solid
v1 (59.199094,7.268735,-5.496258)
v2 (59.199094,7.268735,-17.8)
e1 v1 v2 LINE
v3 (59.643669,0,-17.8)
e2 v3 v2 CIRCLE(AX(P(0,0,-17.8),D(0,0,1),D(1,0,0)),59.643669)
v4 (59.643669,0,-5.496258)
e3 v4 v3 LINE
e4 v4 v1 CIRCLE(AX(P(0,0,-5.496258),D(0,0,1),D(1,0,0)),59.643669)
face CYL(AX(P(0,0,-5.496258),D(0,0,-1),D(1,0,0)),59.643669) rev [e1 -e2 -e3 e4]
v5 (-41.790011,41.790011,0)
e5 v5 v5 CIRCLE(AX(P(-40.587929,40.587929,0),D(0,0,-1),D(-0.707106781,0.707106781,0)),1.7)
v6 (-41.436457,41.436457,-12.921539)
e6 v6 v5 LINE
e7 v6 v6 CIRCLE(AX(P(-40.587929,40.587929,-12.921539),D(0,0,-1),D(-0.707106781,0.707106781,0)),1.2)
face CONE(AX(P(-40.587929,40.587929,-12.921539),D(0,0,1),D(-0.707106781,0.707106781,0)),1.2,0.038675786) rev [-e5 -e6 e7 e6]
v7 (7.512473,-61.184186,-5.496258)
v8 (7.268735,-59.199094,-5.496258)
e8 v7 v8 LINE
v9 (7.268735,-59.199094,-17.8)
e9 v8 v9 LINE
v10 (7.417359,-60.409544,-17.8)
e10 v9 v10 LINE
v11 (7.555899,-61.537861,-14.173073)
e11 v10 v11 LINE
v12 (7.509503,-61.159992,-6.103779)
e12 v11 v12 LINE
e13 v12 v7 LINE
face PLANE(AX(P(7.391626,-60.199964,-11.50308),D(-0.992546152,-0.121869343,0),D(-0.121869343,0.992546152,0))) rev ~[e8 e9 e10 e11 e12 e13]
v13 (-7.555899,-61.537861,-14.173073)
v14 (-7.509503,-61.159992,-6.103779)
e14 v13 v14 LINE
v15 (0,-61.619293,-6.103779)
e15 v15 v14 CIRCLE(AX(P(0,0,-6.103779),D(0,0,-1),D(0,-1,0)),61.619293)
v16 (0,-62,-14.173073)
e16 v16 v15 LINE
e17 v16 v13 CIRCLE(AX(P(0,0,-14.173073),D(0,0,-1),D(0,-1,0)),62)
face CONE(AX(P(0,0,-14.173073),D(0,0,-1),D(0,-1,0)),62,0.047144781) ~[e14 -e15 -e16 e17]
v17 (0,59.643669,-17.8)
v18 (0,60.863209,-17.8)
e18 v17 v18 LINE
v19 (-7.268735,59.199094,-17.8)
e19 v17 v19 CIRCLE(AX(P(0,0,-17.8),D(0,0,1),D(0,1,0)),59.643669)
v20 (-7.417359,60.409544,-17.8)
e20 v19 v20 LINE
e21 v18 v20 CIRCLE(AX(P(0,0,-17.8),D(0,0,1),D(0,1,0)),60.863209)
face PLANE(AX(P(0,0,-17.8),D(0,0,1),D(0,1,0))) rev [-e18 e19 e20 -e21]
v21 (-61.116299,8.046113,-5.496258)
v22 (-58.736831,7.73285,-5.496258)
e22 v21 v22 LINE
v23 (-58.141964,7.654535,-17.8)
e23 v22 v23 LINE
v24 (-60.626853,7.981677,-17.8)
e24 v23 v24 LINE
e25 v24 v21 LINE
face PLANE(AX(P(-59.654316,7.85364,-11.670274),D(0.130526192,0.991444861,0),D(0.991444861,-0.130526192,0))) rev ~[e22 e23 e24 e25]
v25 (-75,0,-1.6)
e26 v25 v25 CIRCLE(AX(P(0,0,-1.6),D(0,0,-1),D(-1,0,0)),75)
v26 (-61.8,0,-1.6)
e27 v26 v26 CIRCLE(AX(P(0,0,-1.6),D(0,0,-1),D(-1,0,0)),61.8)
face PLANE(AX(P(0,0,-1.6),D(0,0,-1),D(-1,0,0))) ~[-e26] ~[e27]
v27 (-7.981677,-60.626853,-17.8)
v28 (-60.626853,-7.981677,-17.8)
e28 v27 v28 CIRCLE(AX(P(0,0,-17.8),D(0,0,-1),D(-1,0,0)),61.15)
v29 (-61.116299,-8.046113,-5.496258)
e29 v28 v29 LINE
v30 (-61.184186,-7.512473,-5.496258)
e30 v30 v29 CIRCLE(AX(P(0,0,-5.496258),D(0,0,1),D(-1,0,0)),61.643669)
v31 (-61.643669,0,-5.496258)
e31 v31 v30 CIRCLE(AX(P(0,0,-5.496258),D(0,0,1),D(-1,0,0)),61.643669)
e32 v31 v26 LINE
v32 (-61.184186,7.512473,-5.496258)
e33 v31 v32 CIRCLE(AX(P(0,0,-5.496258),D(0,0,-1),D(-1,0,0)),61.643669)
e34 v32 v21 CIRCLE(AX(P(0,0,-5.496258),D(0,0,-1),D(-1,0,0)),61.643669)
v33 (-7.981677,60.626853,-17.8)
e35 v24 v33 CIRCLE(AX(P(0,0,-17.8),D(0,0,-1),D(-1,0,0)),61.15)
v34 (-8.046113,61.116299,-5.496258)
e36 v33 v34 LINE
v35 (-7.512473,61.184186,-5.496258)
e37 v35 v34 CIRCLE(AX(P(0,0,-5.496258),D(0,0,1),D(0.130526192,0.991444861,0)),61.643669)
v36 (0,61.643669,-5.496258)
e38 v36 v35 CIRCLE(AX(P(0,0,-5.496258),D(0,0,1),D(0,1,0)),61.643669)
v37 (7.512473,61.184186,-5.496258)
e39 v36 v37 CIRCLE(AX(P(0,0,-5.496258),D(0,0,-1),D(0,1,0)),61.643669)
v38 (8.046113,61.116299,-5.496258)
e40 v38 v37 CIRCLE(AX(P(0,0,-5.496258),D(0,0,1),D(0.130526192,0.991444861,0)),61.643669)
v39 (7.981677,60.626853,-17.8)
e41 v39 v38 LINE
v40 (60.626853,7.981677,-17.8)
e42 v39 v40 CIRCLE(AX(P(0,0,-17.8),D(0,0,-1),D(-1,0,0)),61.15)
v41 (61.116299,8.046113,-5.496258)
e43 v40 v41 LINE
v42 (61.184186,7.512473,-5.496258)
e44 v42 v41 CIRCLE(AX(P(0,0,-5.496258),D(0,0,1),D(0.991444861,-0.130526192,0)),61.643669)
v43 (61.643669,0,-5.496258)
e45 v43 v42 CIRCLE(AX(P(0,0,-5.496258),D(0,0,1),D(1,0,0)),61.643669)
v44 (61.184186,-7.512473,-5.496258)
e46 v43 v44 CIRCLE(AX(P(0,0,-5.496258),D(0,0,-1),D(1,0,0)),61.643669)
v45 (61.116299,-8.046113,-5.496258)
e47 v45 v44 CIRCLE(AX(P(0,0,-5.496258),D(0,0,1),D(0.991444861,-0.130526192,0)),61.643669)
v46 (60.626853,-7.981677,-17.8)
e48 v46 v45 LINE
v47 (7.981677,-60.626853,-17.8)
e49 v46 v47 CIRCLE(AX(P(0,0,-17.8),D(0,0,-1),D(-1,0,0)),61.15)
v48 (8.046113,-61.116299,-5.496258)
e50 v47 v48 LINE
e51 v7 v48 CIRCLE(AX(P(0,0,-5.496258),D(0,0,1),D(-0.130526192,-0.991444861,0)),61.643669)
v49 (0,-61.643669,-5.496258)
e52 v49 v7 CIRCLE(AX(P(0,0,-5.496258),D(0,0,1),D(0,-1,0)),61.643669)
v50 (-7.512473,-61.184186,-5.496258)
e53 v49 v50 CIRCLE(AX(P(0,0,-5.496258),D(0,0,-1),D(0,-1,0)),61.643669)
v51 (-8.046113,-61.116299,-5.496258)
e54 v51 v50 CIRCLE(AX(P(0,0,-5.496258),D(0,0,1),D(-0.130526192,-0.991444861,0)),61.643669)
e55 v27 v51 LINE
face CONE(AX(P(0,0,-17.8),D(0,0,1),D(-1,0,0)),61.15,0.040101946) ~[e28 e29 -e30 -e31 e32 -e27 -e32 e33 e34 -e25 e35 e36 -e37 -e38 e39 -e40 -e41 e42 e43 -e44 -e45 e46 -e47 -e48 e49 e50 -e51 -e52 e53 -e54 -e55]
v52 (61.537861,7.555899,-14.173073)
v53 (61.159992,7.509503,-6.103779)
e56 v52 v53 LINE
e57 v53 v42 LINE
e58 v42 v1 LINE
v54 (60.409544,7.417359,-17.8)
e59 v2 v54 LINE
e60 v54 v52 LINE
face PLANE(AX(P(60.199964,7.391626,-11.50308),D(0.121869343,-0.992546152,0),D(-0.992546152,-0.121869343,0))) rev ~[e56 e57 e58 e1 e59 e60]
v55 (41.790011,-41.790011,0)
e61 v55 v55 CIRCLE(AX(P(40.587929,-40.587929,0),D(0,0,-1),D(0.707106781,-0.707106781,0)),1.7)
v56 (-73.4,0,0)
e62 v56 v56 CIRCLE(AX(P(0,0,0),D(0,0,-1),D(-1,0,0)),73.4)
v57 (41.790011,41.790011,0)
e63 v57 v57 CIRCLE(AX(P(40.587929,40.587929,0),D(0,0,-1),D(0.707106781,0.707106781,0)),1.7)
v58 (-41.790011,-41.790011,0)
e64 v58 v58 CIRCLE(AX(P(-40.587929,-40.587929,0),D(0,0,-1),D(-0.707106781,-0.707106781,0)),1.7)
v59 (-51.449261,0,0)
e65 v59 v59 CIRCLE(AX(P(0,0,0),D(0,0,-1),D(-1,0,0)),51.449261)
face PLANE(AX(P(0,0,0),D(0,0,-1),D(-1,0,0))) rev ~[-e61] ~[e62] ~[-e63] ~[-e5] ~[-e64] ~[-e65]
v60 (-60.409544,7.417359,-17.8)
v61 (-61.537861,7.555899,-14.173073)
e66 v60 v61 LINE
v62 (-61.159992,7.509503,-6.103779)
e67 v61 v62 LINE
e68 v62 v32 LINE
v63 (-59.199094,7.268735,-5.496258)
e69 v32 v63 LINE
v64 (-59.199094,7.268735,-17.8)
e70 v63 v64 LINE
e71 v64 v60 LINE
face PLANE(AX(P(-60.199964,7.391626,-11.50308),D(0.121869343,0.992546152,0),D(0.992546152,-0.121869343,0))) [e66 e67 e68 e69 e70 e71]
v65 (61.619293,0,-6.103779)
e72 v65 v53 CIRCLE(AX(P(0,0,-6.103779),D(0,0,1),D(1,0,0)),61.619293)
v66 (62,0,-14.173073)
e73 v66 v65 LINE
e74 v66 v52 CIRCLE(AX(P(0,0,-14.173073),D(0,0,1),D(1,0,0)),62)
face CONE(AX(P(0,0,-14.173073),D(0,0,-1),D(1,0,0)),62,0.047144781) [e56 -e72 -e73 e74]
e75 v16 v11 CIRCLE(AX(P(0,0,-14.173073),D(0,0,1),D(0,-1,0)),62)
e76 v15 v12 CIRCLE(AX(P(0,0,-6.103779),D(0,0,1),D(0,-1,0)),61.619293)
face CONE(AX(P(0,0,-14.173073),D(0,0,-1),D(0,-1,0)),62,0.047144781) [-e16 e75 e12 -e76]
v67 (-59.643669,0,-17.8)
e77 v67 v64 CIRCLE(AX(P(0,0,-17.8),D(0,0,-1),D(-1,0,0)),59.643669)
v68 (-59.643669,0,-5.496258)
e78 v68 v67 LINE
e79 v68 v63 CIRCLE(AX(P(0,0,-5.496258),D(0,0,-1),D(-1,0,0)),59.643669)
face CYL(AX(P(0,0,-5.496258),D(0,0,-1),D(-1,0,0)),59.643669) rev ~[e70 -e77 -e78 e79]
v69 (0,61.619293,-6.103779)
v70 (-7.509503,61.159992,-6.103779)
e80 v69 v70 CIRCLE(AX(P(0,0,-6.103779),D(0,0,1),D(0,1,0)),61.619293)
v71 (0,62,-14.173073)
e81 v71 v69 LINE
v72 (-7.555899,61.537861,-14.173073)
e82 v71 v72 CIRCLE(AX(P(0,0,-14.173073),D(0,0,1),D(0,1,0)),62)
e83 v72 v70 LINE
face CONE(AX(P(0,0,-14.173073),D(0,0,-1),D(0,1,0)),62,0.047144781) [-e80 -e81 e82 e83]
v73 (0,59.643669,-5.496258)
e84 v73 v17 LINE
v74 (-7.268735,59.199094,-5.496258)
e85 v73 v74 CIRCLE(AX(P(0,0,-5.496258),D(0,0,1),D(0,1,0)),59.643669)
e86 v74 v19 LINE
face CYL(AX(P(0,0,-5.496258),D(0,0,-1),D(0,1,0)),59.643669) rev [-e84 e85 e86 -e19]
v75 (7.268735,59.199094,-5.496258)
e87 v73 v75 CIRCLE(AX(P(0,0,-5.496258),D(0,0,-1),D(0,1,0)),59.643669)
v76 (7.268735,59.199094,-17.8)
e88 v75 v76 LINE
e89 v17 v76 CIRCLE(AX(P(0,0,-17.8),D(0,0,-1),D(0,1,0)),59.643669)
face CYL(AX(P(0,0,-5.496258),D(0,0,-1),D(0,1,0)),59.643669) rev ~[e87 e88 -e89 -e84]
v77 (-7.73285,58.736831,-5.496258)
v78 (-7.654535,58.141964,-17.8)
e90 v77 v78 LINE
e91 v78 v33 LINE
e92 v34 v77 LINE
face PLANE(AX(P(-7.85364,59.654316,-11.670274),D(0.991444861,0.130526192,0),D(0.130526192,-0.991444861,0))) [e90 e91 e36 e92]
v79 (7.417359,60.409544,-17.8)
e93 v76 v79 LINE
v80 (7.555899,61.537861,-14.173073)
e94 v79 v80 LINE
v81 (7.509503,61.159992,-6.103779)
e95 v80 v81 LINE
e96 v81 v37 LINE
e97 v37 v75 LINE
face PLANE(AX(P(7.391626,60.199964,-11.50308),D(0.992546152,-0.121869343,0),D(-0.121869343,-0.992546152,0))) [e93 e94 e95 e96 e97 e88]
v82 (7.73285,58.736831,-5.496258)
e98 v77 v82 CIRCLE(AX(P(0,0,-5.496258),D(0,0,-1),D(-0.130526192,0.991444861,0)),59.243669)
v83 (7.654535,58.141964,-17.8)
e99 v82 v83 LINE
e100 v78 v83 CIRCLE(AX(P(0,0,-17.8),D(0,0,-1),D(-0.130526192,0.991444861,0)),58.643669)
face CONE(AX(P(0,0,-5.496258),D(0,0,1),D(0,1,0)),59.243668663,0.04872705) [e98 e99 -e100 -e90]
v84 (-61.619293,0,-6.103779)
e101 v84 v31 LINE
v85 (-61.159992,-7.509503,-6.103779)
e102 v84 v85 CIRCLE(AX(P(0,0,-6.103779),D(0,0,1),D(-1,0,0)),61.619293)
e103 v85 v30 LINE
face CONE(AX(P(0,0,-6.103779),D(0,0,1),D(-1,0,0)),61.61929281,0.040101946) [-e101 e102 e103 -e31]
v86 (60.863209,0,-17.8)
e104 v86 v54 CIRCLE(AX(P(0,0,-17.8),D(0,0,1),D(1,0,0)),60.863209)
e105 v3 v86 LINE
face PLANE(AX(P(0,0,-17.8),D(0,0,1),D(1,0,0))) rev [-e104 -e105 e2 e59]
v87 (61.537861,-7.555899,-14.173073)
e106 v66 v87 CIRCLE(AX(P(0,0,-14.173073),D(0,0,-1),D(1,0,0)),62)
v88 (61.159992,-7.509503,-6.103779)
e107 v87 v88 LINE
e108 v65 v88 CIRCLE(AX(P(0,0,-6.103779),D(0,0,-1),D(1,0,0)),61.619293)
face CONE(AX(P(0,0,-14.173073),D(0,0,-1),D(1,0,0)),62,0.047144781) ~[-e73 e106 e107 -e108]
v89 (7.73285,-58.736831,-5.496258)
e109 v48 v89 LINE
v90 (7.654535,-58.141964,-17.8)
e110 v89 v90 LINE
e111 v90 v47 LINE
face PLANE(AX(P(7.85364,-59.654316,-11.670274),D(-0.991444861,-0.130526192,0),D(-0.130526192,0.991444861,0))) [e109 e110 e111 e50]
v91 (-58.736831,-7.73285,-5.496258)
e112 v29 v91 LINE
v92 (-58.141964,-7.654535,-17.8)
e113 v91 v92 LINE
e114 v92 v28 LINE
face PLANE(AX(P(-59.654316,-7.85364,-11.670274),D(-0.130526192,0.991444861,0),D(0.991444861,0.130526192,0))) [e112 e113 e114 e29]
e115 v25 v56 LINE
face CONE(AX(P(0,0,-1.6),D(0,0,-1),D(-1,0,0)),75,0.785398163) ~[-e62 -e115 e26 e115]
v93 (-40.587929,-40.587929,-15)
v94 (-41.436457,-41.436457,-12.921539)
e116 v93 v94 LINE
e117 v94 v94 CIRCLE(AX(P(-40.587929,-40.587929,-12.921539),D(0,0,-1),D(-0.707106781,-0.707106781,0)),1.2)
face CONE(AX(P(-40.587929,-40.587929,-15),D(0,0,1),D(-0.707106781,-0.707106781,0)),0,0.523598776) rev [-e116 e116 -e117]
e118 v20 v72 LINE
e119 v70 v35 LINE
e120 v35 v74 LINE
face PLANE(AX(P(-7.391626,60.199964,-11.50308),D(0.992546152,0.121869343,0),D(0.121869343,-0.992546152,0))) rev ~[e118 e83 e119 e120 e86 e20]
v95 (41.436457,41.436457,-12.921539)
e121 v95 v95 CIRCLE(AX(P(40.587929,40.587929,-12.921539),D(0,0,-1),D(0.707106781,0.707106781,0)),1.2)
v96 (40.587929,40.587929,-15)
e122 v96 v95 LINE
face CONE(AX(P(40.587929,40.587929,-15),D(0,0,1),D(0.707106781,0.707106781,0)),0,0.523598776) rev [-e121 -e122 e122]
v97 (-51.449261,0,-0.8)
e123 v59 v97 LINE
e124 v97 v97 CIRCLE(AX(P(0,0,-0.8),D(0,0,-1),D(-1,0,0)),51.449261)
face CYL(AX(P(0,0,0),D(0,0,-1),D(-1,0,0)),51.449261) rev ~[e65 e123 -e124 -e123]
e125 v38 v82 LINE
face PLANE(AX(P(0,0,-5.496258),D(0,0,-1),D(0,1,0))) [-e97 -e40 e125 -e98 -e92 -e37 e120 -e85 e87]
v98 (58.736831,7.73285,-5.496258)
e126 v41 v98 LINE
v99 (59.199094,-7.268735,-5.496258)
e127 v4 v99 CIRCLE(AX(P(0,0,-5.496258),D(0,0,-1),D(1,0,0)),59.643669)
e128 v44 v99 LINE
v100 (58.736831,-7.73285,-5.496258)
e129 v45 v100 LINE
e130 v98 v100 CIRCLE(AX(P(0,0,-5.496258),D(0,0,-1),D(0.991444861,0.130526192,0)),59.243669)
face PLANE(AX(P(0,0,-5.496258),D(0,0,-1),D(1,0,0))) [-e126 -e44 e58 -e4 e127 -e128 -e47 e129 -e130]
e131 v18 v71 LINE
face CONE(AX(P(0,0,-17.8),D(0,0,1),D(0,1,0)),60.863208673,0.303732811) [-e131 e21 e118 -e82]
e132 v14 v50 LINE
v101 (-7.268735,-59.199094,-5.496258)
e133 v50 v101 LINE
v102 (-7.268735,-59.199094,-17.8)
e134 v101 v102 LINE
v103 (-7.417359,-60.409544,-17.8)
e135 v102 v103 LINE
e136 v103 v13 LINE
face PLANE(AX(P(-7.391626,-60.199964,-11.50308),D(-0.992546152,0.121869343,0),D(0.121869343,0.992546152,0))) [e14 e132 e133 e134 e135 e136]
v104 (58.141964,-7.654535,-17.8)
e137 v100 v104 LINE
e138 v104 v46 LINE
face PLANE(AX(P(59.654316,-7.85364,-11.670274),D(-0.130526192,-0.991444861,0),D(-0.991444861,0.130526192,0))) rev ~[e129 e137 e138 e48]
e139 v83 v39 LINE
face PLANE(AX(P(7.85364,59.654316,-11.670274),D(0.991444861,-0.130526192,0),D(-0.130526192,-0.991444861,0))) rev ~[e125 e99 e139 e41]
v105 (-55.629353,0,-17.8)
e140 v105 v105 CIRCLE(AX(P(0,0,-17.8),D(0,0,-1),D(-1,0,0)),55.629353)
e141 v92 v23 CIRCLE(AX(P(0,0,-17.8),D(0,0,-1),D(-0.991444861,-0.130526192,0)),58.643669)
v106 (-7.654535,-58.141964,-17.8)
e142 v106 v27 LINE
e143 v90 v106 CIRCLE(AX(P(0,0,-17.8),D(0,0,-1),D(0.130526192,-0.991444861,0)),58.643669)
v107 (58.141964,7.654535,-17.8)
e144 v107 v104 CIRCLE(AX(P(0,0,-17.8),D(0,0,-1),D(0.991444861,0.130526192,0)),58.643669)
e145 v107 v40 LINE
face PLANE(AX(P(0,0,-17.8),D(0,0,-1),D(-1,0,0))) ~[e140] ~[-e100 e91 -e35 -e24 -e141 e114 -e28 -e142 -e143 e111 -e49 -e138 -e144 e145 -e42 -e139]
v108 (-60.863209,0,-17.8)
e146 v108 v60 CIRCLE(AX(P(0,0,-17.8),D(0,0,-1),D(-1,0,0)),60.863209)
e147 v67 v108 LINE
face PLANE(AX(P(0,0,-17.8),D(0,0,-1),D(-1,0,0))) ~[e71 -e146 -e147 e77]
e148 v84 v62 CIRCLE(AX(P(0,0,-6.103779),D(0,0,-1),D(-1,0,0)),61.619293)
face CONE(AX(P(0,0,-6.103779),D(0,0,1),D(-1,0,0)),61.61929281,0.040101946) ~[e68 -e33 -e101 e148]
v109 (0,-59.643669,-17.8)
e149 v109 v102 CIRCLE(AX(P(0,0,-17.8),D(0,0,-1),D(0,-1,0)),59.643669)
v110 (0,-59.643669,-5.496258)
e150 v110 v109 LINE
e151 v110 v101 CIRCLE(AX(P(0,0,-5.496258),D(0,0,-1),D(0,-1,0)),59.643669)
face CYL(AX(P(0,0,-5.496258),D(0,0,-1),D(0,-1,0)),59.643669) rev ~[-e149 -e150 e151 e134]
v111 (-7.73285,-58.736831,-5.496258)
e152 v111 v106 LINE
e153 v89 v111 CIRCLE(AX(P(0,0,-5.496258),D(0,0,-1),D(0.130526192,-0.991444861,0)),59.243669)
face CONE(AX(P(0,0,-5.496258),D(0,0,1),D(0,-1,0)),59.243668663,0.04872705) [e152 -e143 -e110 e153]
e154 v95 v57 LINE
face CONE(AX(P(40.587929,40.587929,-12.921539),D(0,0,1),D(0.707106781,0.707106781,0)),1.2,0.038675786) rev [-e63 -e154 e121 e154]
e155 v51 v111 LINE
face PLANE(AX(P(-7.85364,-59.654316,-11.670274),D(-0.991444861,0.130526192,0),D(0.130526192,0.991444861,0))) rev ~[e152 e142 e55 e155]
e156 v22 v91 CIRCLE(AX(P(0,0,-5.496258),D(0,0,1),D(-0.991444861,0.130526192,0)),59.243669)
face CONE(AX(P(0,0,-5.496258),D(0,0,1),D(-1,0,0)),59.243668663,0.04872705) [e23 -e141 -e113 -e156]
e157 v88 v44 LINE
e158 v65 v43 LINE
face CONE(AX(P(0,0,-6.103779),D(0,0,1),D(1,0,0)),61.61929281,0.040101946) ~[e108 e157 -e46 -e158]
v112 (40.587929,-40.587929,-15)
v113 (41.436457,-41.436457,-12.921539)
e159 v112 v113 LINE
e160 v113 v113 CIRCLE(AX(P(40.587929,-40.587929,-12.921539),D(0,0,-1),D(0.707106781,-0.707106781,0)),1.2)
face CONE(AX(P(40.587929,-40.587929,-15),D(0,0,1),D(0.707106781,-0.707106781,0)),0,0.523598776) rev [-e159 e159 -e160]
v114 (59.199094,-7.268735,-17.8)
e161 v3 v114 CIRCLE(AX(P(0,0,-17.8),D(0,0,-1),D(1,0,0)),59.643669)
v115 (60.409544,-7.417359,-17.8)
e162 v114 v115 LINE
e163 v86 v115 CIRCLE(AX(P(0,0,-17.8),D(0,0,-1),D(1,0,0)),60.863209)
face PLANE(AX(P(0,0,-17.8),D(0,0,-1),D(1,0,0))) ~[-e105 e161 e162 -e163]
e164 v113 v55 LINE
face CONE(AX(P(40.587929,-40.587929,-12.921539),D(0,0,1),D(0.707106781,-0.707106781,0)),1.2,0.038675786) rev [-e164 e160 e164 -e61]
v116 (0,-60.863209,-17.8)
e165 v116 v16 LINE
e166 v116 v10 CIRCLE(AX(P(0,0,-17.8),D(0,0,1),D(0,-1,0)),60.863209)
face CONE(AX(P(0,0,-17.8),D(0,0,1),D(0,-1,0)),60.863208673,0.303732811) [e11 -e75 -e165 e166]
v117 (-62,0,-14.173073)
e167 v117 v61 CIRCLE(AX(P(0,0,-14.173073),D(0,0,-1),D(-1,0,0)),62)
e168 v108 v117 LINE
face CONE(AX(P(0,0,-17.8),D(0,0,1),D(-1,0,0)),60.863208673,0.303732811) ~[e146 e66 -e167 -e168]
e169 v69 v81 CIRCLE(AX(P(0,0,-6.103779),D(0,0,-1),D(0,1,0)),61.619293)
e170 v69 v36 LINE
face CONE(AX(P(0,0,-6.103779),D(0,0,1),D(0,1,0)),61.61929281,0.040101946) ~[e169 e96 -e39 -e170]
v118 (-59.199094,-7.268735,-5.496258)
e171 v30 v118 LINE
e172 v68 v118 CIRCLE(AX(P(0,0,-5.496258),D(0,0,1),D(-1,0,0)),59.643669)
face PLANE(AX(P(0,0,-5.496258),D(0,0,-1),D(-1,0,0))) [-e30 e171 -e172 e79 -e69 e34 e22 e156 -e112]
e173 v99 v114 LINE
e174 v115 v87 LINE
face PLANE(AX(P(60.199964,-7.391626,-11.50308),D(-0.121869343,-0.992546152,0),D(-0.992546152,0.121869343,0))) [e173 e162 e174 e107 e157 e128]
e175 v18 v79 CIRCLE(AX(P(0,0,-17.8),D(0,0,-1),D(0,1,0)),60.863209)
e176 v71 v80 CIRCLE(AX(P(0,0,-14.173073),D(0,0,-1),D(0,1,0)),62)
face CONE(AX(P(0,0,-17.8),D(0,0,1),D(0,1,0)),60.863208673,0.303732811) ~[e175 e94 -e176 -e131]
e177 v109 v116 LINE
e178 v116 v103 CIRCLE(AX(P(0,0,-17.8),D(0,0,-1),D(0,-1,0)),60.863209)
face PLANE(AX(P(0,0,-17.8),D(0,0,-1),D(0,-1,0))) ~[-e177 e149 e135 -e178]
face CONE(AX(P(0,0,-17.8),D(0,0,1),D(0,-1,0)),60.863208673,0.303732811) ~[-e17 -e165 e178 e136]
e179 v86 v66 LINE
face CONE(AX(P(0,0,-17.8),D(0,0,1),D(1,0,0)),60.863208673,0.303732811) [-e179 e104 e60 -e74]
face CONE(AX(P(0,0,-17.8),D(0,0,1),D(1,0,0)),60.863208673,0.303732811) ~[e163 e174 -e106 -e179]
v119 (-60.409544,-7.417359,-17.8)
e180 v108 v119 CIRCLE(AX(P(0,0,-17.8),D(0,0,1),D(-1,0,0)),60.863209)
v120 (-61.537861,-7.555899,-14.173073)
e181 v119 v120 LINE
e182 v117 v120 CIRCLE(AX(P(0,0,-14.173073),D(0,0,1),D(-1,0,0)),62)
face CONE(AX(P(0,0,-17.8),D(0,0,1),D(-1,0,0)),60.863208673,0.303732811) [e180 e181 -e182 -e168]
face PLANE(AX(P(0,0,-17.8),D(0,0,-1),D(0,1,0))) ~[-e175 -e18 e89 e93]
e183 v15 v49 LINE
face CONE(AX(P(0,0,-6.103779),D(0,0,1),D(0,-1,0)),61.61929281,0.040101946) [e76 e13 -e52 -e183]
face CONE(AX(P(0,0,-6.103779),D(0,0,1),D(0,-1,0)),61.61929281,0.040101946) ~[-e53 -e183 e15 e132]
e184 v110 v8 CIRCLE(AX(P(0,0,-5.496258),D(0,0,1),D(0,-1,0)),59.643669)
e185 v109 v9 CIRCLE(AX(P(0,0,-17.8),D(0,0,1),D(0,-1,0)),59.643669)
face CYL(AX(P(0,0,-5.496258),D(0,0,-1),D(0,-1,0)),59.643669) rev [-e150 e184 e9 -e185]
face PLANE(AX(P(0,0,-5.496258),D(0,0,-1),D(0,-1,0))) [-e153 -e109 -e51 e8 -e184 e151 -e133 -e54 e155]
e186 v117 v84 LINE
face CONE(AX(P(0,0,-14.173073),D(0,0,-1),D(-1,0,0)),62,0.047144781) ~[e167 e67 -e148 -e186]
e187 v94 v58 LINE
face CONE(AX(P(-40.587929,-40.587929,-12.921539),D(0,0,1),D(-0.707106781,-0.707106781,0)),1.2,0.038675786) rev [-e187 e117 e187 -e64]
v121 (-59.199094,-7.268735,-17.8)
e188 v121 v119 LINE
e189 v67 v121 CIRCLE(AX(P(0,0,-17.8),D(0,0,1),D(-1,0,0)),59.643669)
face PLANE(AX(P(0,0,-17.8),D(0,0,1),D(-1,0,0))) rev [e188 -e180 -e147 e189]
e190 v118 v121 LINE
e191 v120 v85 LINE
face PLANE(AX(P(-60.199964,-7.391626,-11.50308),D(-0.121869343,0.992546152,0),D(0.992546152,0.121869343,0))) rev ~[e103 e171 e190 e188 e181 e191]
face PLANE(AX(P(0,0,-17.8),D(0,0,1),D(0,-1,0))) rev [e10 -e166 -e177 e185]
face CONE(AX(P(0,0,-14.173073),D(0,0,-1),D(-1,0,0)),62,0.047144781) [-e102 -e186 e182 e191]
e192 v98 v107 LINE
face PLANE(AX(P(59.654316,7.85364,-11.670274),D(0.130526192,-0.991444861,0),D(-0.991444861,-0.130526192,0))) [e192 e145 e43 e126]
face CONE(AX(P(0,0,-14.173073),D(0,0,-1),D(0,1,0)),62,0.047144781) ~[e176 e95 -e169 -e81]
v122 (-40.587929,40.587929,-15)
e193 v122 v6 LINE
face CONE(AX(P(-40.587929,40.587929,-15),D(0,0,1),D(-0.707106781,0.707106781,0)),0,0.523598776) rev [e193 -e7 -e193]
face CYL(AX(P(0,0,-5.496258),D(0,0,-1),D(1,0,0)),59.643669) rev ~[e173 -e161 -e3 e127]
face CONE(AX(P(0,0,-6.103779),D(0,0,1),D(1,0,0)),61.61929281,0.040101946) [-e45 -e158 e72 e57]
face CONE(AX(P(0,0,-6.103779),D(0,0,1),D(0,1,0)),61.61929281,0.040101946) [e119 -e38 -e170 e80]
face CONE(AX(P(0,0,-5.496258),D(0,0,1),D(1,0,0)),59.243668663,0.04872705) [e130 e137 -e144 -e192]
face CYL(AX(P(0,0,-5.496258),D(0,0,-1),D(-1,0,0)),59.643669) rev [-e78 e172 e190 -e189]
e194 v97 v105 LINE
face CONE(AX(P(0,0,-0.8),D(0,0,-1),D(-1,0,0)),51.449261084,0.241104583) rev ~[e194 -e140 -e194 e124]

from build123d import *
from build123d.topology import SkipClean

# Parameters (mm, degrees)
CLAMP_CUTOFF_ANGLE = 15
CLAMP_BODY_ANGLE   = 14
CLAMP_ARRAY_COUNT  = 4
HOLES_ARRAY_COUNT  = 4


with BuildPart() as part:
    # Main_profile → Main_body (revolve)
    with BuildSketch(Plane(origin=(0, 0, 0), x_dir=(1, 0, 0), z_dir=(0, 1, 0))):
        Polygon((-75, 1.6), (-73.4, 0), (-51.449261084, 0), (-51.449261084, 0.8), (-55.629352876, 17.8), (-61.15, 17.8), (-61.8, 1.6), align=None)
    revolve(axis=Axis((0, 0, 21.596985385), (0, 0, -1)))

    # Эскиз1<8> → clamp_cutoff (revolve, symmetric, cut)
    with BuildSketch(Plane(origin=(0, 0, 0), x_dir=(1, 0, 0), z_dir=(0, 1, 0))) as clamp_cutoff_sk:
        Polygon((-61.643668663, 5.496257935), (-59.243668663, 5.496257935), (-58.643668663, 17.8), (-61.15, 17.8), align=None)
    clamp_cutoff = revolve(axis=Axis((0, 0, 21.596985385), (0, 0, -1)), revolution_arc=CLAMP_CUTOFF_ANGLE / 2, mode=Mode.SUBTRACT)
    clamp_cutoff = clamp_cutoff + revolve(clamp_cutoff_sk.sketch, axis=Axis((0, 0, 21.596985385), (0, 0, 1)), revolution_arc=CLAMP_CUTOFF_ANGLE / 2, mode=Mode.SUBTRACT)

    # Эскиз1<10> → Clamp_body (revolve, symmetric)
    with SkipClean():  # the faces are left unmerged after this step: merging them gives an invalid solid
        with BuildSketch(Plane(origin=(0, 0, 0), x_dir=(1, 0, 0), z_dir=(0, 1, 0))) as clamp_body_sk:
            Polygon((-61.61929281, 6.103779193), (-61.643668663, 5.496257935), (-59.643668663, 5.496257935), (-59.643668663, 17.8), (-60.863208673, 17.8), (-62, 14.17307305), align=None)
        clamp_body = revolve(axis=Axis((0, 0, 21.596985385), (0, 0, -1)), revolution_arc=CLAMP_BODY_ANGLE / 2)
        clamp_body = clamp_body + revolve(clamp_body_sk.sketch, axis=Axis((0, 0, 21.596985385), (0, 0, 1)), revolution_arc=CLAMP_BODY_ANGLE / 2)

    # Clamp_array: clamp_cutoff, Clamp_body ×4 about axis
    with SkipClean():  # the faces are left unmerged after this step: merging them gives an invalid solid
        clamp_array_axis = Axis((0, 0, -17.8), (0, 0, 1))
        add([clamp_cutoff.rotate(clamp_array_axis, i * 360 / CLAMP_ARRAY_COUNT) for i in range(1, CLAMP_ARRAY_COUNT)], mode=Mode.SUBTRACT)
        add([clamp_body.rotate(clamp_array_axis, i * 360 / CLAMP_ARRAY_COUNT) for i in range(1, CLAMP_ARRAY_COUNT)])

    # Hole_profile → Hole (revolve, cut)
    with SkipClean():  # the faces are left unmerged after this step: merging them gives an invalid solid
        with BuildSketch(Plane(origin=(0, 0, 0), x_dir=(0, 0, -1), z_dir=(0.7071067811865488, 0.7071067811865464, 0))):
            Polygon((0, 59.1), (0, 57.4), (15, 57.4), (12.921539031, 58.6), align=None)
        hole = revolve(axis=Axis((-40.58792924, 40.58792924, 2.268978304), (0, 0, -1)), mode=Mode.SUBTRACT)

    # Holes_array: Hole ×4 about axis
    with SkipClean():  # the faces are left unmerged after this step: merging them gives an invalid solid
        holes_array_axis = Axis((0, 0, 0), (0, 0, 1))
        for i in range(1, HOLES_ARRAY_COUNT):
            add(hole.rotate(holes_array_axis, i * 360 / HOLES_ARRAY_COUNT), mode=Mode.SUBTRACT)


solid = part.part
